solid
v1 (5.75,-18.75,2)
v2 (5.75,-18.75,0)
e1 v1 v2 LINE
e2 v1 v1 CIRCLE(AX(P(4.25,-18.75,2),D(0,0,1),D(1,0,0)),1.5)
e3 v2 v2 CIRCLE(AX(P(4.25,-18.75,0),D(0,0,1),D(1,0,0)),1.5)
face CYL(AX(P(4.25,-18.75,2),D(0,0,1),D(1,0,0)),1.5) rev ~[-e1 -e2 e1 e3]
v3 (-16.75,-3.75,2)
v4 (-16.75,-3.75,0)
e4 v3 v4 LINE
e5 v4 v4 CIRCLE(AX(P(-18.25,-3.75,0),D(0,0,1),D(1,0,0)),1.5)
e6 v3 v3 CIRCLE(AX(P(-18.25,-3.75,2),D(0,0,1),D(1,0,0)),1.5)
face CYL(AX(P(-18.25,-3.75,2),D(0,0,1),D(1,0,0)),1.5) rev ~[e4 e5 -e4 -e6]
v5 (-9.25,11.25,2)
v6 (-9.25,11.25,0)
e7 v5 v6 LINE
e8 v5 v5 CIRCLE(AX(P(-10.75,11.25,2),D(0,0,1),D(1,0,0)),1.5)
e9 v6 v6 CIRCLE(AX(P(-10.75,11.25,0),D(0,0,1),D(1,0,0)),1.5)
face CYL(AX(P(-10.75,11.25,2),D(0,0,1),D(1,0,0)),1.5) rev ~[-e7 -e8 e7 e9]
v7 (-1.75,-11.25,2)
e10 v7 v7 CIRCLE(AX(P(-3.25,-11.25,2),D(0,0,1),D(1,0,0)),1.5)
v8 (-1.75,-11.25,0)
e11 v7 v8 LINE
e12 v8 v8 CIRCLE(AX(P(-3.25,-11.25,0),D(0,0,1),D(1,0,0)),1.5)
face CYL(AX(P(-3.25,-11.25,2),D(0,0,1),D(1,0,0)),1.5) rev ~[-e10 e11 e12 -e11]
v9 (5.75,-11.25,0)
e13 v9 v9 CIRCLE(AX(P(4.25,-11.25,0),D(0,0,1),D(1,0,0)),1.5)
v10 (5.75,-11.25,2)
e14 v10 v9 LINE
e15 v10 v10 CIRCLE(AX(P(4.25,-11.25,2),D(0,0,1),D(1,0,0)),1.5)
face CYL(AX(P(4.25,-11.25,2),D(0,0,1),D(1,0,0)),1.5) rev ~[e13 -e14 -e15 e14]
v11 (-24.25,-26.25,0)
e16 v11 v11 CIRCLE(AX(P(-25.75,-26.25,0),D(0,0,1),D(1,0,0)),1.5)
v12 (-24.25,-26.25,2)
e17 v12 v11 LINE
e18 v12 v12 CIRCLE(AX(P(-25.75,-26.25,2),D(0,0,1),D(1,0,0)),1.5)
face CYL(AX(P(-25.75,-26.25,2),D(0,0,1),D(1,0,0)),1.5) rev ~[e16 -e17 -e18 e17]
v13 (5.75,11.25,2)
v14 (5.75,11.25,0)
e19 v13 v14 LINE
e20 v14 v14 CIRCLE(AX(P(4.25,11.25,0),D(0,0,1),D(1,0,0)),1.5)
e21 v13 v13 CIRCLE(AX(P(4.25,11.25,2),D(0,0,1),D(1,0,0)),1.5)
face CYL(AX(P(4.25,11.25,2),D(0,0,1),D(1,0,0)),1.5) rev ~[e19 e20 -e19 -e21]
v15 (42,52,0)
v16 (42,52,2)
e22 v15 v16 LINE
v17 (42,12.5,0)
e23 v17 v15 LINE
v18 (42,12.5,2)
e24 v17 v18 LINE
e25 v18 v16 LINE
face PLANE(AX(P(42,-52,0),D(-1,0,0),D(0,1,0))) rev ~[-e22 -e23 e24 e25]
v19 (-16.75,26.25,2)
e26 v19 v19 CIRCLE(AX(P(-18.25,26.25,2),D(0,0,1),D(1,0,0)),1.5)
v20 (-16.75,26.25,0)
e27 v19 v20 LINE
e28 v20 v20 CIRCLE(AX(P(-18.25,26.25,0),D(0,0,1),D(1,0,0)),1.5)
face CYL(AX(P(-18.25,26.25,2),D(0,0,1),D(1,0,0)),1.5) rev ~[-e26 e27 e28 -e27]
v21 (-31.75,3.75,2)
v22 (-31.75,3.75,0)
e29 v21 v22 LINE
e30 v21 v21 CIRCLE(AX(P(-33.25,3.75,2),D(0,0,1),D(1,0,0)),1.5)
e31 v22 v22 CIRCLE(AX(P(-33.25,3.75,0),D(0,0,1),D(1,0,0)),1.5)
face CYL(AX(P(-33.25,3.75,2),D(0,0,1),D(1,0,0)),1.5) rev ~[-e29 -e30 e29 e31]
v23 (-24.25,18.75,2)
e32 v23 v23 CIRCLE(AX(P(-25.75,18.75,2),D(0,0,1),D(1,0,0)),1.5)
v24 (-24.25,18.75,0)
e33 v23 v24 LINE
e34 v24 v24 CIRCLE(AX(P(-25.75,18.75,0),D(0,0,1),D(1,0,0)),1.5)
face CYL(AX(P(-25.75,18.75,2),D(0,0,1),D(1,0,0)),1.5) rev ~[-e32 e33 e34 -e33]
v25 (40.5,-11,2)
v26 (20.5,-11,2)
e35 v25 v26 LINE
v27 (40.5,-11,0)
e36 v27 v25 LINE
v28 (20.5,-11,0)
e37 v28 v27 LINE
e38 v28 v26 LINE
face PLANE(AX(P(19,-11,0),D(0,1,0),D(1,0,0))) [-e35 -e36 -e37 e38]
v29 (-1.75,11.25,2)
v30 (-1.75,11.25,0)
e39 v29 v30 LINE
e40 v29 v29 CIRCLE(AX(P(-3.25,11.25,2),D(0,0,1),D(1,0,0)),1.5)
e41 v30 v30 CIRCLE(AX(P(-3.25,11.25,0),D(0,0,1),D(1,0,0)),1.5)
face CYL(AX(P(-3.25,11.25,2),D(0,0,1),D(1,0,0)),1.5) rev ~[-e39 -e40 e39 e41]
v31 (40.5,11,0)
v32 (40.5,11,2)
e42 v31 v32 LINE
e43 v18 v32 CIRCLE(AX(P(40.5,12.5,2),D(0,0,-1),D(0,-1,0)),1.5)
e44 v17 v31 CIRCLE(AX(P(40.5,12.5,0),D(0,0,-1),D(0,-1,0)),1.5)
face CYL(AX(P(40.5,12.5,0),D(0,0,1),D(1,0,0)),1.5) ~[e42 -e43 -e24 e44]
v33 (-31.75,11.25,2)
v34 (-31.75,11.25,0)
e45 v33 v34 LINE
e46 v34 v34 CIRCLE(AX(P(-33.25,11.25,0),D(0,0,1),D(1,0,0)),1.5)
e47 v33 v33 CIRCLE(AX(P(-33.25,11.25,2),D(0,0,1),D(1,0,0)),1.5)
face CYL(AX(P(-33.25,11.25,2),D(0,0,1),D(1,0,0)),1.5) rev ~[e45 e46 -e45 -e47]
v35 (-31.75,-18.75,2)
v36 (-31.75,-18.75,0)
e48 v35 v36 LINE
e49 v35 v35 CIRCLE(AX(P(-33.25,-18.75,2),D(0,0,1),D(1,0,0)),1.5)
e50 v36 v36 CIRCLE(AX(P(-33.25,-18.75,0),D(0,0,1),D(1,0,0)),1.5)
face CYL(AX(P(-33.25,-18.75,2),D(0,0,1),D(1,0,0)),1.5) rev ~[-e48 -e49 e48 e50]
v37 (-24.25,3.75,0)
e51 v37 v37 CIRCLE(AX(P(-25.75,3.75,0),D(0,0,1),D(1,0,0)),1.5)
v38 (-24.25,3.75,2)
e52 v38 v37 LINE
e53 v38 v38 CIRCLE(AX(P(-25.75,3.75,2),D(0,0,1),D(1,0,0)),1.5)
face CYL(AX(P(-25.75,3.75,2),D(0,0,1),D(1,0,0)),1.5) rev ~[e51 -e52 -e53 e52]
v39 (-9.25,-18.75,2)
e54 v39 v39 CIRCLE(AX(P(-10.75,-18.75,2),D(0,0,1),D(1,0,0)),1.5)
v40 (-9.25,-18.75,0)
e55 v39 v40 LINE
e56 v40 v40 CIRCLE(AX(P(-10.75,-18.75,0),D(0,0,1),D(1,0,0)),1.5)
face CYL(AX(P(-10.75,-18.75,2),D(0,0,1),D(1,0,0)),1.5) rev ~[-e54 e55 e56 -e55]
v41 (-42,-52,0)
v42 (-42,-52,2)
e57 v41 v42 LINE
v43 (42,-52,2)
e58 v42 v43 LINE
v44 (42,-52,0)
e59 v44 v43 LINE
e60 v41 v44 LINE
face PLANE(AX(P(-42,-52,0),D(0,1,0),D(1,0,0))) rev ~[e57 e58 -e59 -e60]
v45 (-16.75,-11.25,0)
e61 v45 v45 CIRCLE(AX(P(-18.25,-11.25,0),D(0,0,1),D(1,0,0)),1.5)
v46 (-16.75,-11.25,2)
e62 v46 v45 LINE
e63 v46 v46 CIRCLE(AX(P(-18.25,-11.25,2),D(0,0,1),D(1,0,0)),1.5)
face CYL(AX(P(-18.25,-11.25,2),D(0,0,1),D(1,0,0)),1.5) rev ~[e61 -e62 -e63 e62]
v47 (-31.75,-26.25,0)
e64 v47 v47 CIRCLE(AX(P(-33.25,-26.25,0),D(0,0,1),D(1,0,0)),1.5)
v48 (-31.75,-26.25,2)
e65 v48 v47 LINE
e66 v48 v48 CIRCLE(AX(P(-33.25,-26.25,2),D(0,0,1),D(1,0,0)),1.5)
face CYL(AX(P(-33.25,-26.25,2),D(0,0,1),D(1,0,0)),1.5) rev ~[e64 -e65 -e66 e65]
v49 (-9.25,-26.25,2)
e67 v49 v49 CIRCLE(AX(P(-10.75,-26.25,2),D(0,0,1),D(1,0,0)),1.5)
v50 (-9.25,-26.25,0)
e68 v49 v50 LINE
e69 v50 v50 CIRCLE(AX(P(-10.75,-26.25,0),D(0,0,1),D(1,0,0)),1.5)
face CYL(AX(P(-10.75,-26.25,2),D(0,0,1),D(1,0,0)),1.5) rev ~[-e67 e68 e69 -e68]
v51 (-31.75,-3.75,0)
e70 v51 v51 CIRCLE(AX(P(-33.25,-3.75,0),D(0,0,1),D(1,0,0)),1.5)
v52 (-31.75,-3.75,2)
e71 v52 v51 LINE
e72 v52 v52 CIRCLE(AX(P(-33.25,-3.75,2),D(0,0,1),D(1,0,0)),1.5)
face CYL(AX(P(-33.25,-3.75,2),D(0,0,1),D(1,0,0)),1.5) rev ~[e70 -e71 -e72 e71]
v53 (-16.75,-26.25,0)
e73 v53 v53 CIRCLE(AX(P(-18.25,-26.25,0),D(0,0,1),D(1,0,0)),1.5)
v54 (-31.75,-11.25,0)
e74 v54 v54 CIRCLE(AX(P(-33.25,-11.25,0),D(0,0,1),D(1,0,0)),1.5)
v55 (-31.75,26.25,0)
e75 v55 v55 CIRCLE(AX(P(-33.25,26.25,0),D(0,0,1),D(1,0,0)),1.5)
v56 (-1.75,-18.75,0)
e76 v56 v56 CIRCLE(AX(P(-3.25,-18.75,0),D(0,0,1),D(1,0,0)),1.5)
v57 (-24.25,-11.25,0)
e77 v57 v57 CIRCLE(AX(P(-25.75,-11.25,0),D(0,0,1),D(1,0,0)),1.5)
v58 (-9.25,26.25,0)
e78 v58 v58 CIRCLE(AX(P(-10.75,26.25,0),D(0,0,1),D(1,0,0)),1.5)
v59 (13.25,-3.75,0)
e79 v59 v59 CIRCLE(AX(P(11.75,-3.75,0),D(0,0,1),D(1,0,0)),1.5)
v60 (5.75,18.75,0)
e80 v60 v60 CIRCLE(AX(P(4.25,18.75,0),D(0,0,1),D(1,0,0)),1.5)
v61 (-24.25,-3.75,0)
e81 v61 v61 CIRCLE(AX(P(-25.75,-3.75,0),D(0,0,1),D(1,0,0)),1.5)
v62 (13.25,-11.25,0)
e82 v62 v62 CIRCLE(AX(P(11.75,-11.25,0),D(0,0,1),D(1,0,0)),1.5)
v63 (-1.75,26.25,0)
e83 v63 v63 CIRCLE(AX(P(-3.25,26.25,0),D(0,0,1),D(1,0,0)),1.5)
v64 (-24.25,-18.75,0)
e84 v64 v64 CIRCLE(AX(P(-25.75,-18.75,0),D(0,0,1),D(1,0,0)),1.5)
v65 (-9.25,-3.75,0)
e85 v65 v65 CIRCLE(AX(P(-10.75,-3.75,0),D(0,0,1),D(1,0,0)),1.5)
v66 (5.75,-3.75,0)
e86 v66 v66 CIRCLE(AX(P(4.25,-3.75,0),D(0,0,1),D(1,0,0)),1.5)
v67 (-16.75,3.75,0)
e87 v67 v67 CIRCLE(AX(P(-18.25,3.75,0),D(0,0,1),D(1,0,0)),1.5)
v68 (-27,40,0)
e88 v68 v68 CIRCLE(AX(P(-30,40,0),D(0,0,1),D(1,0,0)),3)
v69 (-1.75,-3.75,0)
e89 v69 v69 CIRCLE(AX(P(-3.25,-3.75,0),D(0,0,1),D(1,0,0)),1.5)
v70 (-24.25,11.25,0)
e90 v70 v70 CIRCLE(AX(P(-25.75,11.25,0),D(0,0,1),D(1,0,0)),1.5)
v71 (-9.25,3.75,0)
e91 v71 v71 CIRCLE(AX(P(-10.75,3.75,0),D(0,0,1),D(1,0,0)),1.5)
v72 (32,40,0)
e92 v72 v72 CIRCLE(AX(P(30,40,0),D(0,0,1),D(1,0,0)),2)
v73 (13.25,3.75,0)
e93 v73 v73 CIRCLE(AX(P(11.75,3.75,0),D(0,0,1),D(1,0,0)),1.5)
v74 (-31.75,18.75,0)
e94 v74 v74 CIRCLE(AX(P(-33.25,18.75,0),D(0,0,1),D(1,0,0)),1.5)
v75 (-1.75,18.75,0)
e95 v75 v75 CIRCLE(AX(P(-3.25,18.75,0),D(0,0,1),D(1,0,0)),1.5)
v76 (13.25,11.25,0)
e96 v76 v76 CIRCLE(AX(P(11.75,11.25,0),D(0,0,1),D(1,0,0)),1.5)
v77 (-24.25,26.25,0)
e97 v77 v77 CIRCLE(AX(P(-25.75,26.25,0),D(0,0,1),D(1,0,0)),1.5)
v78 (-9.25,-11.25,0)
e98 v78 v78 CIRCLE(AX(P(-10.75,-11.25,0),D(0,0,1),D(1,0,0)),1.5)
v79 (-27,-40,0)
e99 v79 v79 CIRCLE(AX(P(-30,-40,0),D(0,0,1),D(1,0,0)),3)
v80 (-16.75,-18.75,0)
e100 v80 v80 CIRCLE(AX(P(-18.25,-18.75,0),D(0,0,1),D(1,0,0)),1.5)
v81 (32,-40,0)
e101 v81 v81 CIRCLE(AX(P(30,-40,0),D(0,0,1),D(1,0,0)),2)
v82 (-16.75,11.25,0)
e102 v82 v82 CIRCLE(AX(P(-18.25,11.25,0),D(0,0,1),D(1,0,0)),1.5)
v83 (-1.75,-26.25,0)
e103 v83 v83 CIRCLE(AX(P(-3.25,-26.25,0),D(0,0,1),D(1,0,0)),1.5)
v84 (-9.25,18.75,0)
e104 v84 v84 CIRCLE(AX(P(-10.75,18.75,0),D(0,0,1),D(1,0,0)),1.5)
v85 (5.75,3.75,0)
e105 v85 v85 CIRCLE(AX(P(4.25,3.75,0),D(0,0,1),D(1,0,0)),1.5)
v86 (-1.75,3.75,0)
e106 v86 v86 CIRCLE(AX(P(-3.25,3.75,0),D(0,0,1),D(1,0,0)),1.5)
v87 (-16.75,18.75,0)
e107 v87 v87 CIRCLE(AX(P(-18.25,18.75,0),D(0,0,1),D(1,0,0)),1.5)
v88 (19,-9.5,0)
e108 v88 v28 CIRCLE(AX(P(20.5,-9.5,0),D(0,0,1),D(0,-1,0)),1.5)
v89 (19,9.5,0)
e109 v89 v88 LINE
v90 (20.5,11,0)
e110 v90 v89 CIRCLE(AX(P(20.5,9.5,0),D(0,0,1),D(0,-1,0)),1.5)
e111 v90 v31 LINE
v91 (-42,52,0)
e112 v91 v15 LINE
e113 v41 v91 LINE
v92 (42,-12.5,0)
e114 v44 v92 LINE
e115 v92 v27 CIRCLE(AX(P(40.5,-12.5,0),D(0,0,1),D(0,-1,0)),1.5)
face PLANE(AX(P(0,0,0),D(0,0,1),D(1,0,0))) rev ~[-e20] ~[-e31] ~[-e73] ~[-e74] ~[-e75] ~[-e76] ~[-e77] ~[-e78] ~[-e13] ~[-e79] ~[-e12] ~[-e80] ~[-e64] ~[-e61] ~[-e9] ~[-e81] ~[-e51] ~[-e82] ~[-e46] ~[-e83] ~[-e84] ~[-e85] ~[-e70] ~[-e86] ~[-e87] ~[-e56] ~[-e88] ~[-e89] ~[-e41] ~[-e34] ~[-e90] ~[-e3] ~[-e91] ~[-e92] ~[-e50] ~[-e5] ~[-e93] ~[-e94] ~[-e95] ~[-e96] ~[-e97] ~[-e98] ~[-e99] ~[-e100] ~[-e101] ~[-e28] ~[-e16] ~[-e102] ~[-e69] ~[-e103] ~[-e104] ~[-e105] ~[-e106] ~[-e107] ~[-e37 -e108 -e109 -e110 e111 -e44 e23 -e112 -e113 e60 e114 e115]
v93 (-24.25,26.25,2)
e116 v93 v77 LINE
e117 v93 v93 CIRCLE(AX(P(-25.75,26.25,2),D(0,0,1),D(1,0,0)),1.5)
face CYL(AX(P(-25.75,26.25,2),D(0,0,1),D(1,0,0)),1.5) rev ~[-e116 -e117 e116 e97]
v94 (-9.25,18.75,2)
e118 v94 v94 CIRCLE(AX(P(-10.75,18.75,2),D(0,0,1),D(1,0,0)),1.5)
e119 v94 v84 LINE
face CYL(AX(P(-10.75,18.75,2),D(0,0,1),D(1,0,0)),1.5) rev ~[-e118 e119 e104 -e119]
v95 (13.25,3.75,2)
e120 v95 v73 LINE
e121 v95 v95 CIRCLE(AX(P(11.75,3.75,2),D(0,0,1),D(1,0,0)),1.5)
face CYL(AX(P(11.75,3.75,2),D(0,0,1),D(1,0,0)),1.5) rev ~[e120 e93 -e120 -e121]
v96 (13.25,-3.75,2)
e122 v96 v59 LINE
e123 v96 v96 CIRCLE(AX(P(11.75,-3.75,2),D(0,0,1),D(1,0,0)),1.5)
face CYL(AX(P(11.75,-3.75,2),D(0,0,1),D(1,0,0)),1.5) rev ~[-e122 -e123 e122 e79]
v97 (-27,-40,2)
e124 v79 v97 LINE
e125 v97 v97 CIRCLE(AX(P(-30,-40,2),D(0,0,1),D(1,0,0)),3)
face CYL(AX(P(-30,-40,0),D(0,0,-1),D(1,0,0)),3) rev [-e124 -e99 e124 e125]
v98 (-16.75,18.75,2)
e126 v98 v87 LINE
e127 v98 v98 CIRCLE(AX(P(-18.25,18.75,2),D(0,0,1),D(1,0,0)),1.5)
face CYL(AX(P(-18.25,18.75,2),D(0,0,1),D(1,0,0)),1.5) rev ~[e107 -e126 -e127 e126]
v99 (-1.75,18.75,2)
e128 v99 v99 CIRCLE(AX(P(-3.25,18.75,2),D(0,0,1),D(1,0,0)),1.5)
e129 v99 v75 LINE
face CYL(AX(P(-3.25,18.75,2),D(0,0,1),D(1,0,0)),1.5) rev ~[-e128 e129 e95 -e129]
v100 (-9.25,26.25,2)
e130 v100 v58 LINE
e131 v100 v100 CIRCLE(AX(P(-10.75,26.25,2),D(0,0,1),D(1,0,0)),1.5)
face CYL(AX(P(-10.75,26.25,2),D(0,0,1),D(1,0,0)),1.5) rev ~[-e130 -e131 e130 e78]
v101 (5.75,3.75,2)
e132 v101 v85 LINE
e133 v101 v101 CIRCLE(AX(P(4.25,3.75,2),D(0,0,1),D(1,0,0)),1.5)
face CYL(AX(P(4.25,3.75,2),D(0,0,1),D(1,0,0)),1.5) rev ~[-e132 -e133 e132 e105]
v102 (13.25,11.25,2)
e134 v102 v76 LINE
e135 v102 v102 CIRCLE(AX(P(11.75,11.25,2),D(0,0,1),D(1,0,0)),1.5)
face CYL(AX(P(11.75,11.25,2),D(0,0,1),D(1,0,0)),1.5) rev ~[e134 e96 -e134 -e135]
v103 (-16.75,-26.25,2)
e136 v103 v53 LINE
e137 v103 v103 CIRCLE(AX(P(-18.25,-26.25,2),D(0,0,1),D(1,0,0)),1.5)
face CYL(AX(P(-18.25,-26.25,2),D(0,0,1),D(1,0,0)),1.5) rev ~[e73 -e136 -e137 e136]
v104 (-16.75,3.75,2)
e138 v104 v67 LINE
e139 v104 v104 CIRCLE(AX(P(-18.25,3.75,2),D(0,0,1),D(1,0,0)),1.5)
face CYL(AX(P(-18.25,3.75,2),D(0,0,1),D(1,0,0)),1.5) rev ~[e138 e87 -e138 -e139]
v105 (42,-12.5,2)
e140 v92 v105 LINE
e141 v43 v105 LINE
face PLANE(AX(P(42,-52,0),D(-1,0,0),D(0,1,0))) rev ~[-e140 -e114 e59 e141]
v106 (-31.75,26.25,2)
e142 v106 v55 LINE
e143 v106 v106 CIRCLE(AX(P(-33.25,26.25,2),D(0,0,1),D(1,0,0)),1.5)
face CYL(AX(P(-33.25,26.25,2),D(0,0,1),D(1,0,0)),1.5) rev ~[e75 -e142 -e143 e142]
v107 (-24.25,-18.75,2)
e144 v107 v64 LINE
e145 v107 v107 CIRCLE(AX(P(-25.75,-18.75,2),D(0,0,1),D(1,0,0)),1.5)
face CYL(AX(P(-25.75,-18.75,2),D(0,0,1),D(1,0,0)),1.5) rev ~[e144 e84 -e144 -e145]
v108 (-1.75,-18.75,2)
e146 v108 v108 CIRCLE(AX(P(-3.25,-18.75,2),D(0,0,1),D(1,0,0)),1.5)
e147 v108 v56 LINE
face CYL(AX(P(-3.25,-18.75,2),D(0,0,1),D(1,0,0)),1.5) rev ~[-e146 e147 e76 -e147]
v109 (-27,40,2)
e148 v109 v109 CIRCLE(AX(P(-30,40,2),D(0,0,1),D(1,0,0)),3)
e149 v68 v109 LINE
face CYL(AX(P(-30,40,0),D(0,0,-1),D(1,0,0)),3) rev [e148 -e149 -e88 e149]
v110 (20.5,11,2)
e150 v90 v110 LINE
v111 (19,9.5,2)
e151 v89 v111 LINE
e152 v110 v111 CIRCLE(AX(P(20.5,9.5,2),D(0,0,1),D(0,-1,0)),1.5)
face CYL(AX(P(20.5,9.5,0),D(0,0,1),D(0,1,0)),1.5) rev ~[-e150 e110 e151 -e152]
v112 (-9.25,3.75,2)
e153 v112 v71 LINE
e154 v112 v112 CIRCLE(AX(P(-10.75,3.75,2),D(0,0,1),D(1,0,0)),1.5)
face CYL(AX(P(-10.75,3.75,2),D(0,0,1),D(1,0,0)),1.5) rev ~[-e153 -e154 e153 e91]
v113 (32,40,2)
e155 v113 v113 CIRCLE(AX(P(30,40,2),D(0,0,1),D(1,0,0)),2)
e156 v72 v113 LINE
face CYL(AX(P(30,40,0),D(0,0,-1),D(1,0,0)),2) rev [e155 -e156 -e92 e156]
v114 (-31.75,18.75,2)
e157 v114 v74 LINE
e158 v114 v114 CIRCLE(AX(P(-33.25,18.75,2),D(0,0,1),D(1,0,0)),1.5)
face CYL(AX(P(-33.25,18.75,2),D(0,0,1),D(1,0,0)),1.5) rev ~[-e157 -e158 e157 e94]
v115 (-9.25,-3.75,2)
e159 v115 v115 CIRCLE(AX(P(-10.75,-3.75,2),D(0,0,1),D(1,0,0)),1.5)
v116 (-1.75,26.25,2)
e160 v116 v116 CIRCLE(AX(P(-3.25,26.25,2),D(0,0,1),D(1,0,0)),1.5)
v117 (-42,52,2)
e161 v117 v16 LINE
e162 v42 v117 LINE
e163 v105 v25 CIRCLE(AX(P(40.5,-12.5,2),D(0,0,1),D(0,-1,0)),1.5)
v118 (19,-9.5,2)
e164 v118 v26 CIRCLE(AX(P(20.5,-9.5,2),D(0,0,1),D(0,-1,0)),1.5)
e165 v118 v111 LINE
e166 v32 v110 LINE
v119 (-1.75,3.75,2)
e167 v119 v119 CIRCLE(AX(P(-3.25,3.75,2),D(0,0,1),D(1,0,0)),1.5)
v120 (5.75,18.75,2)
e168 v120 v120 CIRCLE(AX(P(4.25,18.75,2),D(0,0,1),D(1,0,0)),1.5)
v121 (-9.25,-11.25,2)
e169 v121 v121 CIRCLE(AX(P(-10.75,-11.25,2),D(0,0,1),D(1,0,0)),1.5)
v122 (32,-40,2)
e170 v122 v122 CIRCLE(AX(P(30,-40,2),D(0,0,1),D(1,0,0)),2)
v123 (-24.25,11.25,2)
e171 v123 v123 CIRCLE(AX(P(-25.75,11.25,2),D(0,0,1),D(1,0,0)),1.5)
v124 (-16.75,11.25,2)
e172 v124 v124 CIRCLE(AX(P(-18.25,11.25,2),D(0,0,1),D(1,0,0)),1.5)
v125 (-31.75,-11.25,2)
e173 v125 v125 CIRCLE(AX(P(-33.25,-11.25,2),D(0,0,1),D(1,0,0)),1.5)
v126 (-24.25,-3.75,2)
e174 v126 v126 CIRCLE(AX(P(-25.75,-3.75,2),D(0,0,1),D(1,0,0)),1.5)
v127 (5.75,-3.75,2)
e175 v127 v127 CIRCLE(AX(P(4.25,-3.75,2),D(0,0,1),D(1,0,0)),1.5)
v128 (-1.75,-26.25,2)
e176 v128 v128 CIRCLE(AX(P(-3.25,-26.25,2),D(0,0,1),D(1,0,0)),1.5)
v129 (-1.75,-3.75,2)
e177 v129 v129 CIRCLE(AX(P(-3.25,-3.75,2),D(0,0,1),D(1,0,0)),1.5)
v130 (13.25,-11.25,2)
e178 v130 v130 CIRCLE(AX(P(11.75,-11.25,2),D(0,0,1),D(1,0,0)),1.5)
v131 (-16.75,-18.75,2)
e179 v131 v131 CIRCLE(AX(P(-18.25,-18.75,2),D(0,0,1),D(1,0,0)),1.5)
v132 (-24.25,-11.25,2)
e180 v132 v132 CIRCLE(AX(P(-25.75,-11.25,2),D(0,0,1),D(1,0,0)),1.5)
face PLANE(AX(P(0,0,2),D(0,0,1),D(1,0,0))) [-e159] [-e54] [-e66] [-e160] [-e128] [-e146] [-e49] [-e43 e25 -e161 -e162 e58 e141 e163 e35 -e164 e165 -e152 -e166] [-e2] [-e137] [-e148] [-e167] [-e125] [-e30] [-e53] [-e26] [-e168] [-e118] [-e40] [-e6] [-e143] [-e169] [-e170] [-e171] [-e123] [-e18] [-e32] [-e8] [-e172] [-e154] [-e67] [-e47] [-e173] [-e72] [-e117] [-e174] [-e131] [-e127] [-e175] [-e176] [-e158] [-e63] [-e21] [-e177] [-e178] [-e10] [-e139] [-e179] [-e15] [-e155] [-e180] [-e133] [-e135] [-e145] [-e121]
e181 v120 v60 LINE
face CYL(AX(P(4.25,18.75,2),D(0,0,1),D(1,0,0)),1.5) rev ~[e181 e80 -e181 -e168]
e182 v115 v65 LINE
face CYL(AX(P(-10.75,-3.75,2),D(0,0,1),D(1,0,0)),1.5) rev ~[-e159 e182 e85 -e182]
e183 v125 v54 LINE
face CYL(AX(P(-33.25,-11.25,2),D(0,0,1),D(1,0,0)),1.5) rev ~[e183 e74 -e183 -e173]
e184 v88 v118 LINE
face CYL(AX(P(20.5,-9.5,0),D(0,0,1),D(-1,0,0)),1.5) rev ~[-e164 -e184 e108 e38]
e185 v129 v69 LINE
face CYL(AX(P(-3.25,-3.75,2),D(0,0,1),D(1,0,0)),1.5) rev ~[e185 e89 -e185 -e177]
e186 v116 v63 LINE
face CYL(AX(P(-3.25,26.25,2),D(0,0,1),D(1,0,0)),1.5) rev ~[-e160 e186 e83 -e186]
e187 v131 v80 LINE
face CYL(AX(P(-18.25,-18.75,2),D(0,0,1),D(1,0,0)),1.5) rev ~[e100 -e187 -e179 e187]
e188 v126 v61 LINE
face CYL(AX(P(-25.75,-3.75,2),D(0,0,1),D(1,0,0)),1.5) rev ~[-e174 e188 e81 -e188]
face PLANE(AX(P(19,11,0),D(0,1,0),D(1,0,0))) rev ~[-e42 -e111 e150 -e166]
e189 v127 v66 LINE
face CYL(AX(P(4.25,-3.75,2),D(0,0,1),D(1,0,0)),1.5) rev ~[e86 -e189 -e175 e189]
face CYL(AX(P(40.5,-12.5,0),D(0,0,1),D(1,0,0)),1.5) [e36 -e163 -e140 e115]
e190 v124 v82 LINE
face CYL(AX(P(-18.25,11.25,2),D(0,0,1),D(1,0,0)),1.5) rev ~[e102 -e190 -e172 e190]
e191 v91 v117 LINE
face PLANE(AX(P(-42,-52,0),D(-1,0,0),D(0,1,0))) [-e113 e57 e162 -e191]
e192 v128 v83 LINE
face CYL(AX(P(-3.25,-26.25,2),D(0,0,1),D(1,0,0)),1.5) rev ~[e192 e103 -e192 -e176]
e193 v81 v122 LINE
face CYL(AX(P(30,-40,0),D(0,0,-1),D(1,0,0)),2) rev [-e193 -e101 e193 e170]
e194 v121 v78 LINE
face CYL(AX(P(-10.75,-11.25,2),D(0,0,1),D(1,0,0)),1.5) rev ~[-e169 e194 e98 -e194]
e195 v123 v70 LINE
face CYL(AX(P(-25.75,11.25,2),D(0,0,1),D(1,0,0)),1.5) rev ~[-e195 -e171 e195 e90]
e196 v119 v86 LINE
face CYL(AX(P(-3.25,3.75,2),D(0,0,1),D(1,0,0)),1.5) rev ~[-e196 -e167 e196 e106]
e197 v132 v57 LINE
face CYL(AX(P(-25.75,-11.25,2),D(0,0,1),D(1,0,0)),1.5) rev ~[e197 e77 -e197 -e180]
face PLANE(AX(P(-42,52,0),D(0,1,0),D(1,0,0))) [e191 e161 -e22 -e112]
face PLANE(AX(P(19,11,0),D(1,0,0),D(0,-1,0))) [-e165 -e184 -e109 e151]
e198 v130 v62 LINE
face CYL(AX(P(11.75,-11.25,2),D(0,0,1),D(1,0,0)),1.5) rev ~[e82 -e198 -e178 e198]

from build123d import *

# Parameters (mm, degrees)
F0_W     = 84
F0_H     = 104
F0_R     = 3
F0_R_2   = 2
F1_DEPTH = 2
F2_W     = 23
F2_H     = 22
F3_DEPTH = 2.001
F4_R     = 1.5
F5_R     = 1.5
F6_DEPTH = 2.001


with BuildPart() as f1:
    # F0 (on Top) → F1 (new body)
    with BuildSketch(Plane.XY):
        Rectangle(F0_W, F0_H)
        with Locations((-30, -40)):
            Circle(F0_R, mode=Mode.SUBTRACT)
        with Locations((30, -40)):
            Circle(F0_R_2, mode=Mode.SUBTRACT)
        with Locations((-30, 40)):
            Circle(F0_R, mode=Mode.SUBTRACT)
        with Locations((30, 40)):
            Circle(F0_R_2, mode=Mode.SUBTRACT)
    extrude(amount=F1_DEPTH)

    # F2 (on face) → F3 (cut, through all)
    with BuildSketch(Plane(origin=(0, 0, 0), x_dir=(1, 0, 0), z_dir=(0, 0, -1))):
        with Locations((30.5, 0)):
            Rectangle(F2_W, F2_H)
    extrude(amount=-F3_DEPTH, mode=Mode.SUBTRACT)

    # F4
    f4_edges = [f1.edges().sort_by_distance(p)[0] for p in [
        (19, 11, 1),
        (42, 11, 1),
        (19, -11, 1),
        (42, -11, 1),
    ]]
    fillet(f4_edges, radius=F4_R)

    # F5 (on face) → F6 (cut, through all)
    with BuildSketch(Plane.XY.offset(2)):
        with Locations((-33.25, -26.25)):
            Circle(F5_R)
        with Locations((-33.25, -18.75)):
            Circle(F5_R)
        with Locations((-33.25, -11.25)):
            Circle(F5_R)
        with Locations((-33.25, -3.75)):
            Circle(F5_R)
        with Locations((-25.75, -26.25)):
            Circle(F5_R)
        with Locations((-25.75, -18.75)):
            Circle(F5_R)
        with Locations((-25.75, -11.25)):
            Circle(F5_R)
        with Locations((-25.75, -3.75)):
            Circle(F5_R)
        with Locations((-18.25, -26.25)):
            Circle(F5_R)
        with Locations((-18.25, -18.75)):
            Circle(F5_R)
        with Locations((-18.25, -11.25)):
            Circle(F5_R)
        with Locations((-18.25, -3.75)):
            Circle(F5_R)
        with Locations((-10.75, -26.25)):
            Circle(F5_R)
        with Locations((-10.75, -18.75)):
            Circle(F5_R)
        with Locations((-10.75, -11.25)):
            Circle(F5_R)
        with Locations((-10.75, -3.75)):
            Circle(F5_R)
        with Locations((-3.25, -26.25)):
            Circle(F5_R)
        with Locations((-3.25, -18.75)):
            Circle(F5_R)
        with Locations((-3.25, -11.25)):
            Circle(F5_R)
        with Locations((-3.25, -3.75)):
            Circle(F5_R)
        with Locations((4.25, -18.75)):
            Circle(F5_R)
        with Locations((4.25, -11.25)):
            Circle(F5_R)
        with Locations((4.25, -3.75)):
            Circle(F5_R)
        with Locations((11.75, -11.25)):
            Circle(F5_R)
        with Locations((11.75, -3.75)):
            Circle(F5_R)
        with Locations((-33.25, 26.25)):
            Circle(F5_R)
        with Locations((-25.75, 26.25)):
            Circle(F5_R)
        with Locations((-25.75, 3.75)):
            Circle(F5_R)
        with Locations((-3.25, 3.75)):
            Circle(F5_R)
        with Locations((-10.75, 26.25)):
            Circle(F5_R)
        with Locations((-3.25, 26.25)):
            Circle(F5_R)
        with Locations((-33.25, 3.75)):
            Circle(F5_R)
        with Locations((-10.75, 3.75)):
            Circle(F5_R)
        with Locations((-33.25, 18.75)):
            Circle(F5_R)
        with Locations((-18.25, 3.75)):
            Circle(F5_R)
        with Locations((-18.25, 18.75)):
            Circle(F5_R)
        with Locations((-25.75, 11.25)):
            Circle(F5_R)
        with Locations((11.75, 11.25)):
            Circle(F5_R)
        with Locations((-25.75, 18.75)):
            Circle(F5_R)
        with Locations((-10.75, 18.75)):
            Circle(F5_R)
        with Locations((-33.25, 11.25)):
            Circle(F5_R)
        with Locations((-3.25, 18.75)):
            Circle(F5_R)
        with Locations((4.25, 18.75)):
            Circle(F5_R)
        with Locations((-10.75, 11.25)):
            Circle(F5_R)
        with Locations((11.75, 3.75)):
            Circle(F5_R)
        with Locations((-18.25, 26.25)):
            Circle(F5_R)
        with Locations((4.25, 3.75)):
            Circle(F5_R)
        with Locations((-3.25, 11.25)):
            Circle(F5_R)
        with Locations((4.25, 11.25)):
            Circle(F5_R)
        with Locations((-18.25, 11.25)):
            Circle(F5_R)
    extrude(amount=-F6_DEPTH, mode=Mode.SUBTRACT)


solid = f1.part
